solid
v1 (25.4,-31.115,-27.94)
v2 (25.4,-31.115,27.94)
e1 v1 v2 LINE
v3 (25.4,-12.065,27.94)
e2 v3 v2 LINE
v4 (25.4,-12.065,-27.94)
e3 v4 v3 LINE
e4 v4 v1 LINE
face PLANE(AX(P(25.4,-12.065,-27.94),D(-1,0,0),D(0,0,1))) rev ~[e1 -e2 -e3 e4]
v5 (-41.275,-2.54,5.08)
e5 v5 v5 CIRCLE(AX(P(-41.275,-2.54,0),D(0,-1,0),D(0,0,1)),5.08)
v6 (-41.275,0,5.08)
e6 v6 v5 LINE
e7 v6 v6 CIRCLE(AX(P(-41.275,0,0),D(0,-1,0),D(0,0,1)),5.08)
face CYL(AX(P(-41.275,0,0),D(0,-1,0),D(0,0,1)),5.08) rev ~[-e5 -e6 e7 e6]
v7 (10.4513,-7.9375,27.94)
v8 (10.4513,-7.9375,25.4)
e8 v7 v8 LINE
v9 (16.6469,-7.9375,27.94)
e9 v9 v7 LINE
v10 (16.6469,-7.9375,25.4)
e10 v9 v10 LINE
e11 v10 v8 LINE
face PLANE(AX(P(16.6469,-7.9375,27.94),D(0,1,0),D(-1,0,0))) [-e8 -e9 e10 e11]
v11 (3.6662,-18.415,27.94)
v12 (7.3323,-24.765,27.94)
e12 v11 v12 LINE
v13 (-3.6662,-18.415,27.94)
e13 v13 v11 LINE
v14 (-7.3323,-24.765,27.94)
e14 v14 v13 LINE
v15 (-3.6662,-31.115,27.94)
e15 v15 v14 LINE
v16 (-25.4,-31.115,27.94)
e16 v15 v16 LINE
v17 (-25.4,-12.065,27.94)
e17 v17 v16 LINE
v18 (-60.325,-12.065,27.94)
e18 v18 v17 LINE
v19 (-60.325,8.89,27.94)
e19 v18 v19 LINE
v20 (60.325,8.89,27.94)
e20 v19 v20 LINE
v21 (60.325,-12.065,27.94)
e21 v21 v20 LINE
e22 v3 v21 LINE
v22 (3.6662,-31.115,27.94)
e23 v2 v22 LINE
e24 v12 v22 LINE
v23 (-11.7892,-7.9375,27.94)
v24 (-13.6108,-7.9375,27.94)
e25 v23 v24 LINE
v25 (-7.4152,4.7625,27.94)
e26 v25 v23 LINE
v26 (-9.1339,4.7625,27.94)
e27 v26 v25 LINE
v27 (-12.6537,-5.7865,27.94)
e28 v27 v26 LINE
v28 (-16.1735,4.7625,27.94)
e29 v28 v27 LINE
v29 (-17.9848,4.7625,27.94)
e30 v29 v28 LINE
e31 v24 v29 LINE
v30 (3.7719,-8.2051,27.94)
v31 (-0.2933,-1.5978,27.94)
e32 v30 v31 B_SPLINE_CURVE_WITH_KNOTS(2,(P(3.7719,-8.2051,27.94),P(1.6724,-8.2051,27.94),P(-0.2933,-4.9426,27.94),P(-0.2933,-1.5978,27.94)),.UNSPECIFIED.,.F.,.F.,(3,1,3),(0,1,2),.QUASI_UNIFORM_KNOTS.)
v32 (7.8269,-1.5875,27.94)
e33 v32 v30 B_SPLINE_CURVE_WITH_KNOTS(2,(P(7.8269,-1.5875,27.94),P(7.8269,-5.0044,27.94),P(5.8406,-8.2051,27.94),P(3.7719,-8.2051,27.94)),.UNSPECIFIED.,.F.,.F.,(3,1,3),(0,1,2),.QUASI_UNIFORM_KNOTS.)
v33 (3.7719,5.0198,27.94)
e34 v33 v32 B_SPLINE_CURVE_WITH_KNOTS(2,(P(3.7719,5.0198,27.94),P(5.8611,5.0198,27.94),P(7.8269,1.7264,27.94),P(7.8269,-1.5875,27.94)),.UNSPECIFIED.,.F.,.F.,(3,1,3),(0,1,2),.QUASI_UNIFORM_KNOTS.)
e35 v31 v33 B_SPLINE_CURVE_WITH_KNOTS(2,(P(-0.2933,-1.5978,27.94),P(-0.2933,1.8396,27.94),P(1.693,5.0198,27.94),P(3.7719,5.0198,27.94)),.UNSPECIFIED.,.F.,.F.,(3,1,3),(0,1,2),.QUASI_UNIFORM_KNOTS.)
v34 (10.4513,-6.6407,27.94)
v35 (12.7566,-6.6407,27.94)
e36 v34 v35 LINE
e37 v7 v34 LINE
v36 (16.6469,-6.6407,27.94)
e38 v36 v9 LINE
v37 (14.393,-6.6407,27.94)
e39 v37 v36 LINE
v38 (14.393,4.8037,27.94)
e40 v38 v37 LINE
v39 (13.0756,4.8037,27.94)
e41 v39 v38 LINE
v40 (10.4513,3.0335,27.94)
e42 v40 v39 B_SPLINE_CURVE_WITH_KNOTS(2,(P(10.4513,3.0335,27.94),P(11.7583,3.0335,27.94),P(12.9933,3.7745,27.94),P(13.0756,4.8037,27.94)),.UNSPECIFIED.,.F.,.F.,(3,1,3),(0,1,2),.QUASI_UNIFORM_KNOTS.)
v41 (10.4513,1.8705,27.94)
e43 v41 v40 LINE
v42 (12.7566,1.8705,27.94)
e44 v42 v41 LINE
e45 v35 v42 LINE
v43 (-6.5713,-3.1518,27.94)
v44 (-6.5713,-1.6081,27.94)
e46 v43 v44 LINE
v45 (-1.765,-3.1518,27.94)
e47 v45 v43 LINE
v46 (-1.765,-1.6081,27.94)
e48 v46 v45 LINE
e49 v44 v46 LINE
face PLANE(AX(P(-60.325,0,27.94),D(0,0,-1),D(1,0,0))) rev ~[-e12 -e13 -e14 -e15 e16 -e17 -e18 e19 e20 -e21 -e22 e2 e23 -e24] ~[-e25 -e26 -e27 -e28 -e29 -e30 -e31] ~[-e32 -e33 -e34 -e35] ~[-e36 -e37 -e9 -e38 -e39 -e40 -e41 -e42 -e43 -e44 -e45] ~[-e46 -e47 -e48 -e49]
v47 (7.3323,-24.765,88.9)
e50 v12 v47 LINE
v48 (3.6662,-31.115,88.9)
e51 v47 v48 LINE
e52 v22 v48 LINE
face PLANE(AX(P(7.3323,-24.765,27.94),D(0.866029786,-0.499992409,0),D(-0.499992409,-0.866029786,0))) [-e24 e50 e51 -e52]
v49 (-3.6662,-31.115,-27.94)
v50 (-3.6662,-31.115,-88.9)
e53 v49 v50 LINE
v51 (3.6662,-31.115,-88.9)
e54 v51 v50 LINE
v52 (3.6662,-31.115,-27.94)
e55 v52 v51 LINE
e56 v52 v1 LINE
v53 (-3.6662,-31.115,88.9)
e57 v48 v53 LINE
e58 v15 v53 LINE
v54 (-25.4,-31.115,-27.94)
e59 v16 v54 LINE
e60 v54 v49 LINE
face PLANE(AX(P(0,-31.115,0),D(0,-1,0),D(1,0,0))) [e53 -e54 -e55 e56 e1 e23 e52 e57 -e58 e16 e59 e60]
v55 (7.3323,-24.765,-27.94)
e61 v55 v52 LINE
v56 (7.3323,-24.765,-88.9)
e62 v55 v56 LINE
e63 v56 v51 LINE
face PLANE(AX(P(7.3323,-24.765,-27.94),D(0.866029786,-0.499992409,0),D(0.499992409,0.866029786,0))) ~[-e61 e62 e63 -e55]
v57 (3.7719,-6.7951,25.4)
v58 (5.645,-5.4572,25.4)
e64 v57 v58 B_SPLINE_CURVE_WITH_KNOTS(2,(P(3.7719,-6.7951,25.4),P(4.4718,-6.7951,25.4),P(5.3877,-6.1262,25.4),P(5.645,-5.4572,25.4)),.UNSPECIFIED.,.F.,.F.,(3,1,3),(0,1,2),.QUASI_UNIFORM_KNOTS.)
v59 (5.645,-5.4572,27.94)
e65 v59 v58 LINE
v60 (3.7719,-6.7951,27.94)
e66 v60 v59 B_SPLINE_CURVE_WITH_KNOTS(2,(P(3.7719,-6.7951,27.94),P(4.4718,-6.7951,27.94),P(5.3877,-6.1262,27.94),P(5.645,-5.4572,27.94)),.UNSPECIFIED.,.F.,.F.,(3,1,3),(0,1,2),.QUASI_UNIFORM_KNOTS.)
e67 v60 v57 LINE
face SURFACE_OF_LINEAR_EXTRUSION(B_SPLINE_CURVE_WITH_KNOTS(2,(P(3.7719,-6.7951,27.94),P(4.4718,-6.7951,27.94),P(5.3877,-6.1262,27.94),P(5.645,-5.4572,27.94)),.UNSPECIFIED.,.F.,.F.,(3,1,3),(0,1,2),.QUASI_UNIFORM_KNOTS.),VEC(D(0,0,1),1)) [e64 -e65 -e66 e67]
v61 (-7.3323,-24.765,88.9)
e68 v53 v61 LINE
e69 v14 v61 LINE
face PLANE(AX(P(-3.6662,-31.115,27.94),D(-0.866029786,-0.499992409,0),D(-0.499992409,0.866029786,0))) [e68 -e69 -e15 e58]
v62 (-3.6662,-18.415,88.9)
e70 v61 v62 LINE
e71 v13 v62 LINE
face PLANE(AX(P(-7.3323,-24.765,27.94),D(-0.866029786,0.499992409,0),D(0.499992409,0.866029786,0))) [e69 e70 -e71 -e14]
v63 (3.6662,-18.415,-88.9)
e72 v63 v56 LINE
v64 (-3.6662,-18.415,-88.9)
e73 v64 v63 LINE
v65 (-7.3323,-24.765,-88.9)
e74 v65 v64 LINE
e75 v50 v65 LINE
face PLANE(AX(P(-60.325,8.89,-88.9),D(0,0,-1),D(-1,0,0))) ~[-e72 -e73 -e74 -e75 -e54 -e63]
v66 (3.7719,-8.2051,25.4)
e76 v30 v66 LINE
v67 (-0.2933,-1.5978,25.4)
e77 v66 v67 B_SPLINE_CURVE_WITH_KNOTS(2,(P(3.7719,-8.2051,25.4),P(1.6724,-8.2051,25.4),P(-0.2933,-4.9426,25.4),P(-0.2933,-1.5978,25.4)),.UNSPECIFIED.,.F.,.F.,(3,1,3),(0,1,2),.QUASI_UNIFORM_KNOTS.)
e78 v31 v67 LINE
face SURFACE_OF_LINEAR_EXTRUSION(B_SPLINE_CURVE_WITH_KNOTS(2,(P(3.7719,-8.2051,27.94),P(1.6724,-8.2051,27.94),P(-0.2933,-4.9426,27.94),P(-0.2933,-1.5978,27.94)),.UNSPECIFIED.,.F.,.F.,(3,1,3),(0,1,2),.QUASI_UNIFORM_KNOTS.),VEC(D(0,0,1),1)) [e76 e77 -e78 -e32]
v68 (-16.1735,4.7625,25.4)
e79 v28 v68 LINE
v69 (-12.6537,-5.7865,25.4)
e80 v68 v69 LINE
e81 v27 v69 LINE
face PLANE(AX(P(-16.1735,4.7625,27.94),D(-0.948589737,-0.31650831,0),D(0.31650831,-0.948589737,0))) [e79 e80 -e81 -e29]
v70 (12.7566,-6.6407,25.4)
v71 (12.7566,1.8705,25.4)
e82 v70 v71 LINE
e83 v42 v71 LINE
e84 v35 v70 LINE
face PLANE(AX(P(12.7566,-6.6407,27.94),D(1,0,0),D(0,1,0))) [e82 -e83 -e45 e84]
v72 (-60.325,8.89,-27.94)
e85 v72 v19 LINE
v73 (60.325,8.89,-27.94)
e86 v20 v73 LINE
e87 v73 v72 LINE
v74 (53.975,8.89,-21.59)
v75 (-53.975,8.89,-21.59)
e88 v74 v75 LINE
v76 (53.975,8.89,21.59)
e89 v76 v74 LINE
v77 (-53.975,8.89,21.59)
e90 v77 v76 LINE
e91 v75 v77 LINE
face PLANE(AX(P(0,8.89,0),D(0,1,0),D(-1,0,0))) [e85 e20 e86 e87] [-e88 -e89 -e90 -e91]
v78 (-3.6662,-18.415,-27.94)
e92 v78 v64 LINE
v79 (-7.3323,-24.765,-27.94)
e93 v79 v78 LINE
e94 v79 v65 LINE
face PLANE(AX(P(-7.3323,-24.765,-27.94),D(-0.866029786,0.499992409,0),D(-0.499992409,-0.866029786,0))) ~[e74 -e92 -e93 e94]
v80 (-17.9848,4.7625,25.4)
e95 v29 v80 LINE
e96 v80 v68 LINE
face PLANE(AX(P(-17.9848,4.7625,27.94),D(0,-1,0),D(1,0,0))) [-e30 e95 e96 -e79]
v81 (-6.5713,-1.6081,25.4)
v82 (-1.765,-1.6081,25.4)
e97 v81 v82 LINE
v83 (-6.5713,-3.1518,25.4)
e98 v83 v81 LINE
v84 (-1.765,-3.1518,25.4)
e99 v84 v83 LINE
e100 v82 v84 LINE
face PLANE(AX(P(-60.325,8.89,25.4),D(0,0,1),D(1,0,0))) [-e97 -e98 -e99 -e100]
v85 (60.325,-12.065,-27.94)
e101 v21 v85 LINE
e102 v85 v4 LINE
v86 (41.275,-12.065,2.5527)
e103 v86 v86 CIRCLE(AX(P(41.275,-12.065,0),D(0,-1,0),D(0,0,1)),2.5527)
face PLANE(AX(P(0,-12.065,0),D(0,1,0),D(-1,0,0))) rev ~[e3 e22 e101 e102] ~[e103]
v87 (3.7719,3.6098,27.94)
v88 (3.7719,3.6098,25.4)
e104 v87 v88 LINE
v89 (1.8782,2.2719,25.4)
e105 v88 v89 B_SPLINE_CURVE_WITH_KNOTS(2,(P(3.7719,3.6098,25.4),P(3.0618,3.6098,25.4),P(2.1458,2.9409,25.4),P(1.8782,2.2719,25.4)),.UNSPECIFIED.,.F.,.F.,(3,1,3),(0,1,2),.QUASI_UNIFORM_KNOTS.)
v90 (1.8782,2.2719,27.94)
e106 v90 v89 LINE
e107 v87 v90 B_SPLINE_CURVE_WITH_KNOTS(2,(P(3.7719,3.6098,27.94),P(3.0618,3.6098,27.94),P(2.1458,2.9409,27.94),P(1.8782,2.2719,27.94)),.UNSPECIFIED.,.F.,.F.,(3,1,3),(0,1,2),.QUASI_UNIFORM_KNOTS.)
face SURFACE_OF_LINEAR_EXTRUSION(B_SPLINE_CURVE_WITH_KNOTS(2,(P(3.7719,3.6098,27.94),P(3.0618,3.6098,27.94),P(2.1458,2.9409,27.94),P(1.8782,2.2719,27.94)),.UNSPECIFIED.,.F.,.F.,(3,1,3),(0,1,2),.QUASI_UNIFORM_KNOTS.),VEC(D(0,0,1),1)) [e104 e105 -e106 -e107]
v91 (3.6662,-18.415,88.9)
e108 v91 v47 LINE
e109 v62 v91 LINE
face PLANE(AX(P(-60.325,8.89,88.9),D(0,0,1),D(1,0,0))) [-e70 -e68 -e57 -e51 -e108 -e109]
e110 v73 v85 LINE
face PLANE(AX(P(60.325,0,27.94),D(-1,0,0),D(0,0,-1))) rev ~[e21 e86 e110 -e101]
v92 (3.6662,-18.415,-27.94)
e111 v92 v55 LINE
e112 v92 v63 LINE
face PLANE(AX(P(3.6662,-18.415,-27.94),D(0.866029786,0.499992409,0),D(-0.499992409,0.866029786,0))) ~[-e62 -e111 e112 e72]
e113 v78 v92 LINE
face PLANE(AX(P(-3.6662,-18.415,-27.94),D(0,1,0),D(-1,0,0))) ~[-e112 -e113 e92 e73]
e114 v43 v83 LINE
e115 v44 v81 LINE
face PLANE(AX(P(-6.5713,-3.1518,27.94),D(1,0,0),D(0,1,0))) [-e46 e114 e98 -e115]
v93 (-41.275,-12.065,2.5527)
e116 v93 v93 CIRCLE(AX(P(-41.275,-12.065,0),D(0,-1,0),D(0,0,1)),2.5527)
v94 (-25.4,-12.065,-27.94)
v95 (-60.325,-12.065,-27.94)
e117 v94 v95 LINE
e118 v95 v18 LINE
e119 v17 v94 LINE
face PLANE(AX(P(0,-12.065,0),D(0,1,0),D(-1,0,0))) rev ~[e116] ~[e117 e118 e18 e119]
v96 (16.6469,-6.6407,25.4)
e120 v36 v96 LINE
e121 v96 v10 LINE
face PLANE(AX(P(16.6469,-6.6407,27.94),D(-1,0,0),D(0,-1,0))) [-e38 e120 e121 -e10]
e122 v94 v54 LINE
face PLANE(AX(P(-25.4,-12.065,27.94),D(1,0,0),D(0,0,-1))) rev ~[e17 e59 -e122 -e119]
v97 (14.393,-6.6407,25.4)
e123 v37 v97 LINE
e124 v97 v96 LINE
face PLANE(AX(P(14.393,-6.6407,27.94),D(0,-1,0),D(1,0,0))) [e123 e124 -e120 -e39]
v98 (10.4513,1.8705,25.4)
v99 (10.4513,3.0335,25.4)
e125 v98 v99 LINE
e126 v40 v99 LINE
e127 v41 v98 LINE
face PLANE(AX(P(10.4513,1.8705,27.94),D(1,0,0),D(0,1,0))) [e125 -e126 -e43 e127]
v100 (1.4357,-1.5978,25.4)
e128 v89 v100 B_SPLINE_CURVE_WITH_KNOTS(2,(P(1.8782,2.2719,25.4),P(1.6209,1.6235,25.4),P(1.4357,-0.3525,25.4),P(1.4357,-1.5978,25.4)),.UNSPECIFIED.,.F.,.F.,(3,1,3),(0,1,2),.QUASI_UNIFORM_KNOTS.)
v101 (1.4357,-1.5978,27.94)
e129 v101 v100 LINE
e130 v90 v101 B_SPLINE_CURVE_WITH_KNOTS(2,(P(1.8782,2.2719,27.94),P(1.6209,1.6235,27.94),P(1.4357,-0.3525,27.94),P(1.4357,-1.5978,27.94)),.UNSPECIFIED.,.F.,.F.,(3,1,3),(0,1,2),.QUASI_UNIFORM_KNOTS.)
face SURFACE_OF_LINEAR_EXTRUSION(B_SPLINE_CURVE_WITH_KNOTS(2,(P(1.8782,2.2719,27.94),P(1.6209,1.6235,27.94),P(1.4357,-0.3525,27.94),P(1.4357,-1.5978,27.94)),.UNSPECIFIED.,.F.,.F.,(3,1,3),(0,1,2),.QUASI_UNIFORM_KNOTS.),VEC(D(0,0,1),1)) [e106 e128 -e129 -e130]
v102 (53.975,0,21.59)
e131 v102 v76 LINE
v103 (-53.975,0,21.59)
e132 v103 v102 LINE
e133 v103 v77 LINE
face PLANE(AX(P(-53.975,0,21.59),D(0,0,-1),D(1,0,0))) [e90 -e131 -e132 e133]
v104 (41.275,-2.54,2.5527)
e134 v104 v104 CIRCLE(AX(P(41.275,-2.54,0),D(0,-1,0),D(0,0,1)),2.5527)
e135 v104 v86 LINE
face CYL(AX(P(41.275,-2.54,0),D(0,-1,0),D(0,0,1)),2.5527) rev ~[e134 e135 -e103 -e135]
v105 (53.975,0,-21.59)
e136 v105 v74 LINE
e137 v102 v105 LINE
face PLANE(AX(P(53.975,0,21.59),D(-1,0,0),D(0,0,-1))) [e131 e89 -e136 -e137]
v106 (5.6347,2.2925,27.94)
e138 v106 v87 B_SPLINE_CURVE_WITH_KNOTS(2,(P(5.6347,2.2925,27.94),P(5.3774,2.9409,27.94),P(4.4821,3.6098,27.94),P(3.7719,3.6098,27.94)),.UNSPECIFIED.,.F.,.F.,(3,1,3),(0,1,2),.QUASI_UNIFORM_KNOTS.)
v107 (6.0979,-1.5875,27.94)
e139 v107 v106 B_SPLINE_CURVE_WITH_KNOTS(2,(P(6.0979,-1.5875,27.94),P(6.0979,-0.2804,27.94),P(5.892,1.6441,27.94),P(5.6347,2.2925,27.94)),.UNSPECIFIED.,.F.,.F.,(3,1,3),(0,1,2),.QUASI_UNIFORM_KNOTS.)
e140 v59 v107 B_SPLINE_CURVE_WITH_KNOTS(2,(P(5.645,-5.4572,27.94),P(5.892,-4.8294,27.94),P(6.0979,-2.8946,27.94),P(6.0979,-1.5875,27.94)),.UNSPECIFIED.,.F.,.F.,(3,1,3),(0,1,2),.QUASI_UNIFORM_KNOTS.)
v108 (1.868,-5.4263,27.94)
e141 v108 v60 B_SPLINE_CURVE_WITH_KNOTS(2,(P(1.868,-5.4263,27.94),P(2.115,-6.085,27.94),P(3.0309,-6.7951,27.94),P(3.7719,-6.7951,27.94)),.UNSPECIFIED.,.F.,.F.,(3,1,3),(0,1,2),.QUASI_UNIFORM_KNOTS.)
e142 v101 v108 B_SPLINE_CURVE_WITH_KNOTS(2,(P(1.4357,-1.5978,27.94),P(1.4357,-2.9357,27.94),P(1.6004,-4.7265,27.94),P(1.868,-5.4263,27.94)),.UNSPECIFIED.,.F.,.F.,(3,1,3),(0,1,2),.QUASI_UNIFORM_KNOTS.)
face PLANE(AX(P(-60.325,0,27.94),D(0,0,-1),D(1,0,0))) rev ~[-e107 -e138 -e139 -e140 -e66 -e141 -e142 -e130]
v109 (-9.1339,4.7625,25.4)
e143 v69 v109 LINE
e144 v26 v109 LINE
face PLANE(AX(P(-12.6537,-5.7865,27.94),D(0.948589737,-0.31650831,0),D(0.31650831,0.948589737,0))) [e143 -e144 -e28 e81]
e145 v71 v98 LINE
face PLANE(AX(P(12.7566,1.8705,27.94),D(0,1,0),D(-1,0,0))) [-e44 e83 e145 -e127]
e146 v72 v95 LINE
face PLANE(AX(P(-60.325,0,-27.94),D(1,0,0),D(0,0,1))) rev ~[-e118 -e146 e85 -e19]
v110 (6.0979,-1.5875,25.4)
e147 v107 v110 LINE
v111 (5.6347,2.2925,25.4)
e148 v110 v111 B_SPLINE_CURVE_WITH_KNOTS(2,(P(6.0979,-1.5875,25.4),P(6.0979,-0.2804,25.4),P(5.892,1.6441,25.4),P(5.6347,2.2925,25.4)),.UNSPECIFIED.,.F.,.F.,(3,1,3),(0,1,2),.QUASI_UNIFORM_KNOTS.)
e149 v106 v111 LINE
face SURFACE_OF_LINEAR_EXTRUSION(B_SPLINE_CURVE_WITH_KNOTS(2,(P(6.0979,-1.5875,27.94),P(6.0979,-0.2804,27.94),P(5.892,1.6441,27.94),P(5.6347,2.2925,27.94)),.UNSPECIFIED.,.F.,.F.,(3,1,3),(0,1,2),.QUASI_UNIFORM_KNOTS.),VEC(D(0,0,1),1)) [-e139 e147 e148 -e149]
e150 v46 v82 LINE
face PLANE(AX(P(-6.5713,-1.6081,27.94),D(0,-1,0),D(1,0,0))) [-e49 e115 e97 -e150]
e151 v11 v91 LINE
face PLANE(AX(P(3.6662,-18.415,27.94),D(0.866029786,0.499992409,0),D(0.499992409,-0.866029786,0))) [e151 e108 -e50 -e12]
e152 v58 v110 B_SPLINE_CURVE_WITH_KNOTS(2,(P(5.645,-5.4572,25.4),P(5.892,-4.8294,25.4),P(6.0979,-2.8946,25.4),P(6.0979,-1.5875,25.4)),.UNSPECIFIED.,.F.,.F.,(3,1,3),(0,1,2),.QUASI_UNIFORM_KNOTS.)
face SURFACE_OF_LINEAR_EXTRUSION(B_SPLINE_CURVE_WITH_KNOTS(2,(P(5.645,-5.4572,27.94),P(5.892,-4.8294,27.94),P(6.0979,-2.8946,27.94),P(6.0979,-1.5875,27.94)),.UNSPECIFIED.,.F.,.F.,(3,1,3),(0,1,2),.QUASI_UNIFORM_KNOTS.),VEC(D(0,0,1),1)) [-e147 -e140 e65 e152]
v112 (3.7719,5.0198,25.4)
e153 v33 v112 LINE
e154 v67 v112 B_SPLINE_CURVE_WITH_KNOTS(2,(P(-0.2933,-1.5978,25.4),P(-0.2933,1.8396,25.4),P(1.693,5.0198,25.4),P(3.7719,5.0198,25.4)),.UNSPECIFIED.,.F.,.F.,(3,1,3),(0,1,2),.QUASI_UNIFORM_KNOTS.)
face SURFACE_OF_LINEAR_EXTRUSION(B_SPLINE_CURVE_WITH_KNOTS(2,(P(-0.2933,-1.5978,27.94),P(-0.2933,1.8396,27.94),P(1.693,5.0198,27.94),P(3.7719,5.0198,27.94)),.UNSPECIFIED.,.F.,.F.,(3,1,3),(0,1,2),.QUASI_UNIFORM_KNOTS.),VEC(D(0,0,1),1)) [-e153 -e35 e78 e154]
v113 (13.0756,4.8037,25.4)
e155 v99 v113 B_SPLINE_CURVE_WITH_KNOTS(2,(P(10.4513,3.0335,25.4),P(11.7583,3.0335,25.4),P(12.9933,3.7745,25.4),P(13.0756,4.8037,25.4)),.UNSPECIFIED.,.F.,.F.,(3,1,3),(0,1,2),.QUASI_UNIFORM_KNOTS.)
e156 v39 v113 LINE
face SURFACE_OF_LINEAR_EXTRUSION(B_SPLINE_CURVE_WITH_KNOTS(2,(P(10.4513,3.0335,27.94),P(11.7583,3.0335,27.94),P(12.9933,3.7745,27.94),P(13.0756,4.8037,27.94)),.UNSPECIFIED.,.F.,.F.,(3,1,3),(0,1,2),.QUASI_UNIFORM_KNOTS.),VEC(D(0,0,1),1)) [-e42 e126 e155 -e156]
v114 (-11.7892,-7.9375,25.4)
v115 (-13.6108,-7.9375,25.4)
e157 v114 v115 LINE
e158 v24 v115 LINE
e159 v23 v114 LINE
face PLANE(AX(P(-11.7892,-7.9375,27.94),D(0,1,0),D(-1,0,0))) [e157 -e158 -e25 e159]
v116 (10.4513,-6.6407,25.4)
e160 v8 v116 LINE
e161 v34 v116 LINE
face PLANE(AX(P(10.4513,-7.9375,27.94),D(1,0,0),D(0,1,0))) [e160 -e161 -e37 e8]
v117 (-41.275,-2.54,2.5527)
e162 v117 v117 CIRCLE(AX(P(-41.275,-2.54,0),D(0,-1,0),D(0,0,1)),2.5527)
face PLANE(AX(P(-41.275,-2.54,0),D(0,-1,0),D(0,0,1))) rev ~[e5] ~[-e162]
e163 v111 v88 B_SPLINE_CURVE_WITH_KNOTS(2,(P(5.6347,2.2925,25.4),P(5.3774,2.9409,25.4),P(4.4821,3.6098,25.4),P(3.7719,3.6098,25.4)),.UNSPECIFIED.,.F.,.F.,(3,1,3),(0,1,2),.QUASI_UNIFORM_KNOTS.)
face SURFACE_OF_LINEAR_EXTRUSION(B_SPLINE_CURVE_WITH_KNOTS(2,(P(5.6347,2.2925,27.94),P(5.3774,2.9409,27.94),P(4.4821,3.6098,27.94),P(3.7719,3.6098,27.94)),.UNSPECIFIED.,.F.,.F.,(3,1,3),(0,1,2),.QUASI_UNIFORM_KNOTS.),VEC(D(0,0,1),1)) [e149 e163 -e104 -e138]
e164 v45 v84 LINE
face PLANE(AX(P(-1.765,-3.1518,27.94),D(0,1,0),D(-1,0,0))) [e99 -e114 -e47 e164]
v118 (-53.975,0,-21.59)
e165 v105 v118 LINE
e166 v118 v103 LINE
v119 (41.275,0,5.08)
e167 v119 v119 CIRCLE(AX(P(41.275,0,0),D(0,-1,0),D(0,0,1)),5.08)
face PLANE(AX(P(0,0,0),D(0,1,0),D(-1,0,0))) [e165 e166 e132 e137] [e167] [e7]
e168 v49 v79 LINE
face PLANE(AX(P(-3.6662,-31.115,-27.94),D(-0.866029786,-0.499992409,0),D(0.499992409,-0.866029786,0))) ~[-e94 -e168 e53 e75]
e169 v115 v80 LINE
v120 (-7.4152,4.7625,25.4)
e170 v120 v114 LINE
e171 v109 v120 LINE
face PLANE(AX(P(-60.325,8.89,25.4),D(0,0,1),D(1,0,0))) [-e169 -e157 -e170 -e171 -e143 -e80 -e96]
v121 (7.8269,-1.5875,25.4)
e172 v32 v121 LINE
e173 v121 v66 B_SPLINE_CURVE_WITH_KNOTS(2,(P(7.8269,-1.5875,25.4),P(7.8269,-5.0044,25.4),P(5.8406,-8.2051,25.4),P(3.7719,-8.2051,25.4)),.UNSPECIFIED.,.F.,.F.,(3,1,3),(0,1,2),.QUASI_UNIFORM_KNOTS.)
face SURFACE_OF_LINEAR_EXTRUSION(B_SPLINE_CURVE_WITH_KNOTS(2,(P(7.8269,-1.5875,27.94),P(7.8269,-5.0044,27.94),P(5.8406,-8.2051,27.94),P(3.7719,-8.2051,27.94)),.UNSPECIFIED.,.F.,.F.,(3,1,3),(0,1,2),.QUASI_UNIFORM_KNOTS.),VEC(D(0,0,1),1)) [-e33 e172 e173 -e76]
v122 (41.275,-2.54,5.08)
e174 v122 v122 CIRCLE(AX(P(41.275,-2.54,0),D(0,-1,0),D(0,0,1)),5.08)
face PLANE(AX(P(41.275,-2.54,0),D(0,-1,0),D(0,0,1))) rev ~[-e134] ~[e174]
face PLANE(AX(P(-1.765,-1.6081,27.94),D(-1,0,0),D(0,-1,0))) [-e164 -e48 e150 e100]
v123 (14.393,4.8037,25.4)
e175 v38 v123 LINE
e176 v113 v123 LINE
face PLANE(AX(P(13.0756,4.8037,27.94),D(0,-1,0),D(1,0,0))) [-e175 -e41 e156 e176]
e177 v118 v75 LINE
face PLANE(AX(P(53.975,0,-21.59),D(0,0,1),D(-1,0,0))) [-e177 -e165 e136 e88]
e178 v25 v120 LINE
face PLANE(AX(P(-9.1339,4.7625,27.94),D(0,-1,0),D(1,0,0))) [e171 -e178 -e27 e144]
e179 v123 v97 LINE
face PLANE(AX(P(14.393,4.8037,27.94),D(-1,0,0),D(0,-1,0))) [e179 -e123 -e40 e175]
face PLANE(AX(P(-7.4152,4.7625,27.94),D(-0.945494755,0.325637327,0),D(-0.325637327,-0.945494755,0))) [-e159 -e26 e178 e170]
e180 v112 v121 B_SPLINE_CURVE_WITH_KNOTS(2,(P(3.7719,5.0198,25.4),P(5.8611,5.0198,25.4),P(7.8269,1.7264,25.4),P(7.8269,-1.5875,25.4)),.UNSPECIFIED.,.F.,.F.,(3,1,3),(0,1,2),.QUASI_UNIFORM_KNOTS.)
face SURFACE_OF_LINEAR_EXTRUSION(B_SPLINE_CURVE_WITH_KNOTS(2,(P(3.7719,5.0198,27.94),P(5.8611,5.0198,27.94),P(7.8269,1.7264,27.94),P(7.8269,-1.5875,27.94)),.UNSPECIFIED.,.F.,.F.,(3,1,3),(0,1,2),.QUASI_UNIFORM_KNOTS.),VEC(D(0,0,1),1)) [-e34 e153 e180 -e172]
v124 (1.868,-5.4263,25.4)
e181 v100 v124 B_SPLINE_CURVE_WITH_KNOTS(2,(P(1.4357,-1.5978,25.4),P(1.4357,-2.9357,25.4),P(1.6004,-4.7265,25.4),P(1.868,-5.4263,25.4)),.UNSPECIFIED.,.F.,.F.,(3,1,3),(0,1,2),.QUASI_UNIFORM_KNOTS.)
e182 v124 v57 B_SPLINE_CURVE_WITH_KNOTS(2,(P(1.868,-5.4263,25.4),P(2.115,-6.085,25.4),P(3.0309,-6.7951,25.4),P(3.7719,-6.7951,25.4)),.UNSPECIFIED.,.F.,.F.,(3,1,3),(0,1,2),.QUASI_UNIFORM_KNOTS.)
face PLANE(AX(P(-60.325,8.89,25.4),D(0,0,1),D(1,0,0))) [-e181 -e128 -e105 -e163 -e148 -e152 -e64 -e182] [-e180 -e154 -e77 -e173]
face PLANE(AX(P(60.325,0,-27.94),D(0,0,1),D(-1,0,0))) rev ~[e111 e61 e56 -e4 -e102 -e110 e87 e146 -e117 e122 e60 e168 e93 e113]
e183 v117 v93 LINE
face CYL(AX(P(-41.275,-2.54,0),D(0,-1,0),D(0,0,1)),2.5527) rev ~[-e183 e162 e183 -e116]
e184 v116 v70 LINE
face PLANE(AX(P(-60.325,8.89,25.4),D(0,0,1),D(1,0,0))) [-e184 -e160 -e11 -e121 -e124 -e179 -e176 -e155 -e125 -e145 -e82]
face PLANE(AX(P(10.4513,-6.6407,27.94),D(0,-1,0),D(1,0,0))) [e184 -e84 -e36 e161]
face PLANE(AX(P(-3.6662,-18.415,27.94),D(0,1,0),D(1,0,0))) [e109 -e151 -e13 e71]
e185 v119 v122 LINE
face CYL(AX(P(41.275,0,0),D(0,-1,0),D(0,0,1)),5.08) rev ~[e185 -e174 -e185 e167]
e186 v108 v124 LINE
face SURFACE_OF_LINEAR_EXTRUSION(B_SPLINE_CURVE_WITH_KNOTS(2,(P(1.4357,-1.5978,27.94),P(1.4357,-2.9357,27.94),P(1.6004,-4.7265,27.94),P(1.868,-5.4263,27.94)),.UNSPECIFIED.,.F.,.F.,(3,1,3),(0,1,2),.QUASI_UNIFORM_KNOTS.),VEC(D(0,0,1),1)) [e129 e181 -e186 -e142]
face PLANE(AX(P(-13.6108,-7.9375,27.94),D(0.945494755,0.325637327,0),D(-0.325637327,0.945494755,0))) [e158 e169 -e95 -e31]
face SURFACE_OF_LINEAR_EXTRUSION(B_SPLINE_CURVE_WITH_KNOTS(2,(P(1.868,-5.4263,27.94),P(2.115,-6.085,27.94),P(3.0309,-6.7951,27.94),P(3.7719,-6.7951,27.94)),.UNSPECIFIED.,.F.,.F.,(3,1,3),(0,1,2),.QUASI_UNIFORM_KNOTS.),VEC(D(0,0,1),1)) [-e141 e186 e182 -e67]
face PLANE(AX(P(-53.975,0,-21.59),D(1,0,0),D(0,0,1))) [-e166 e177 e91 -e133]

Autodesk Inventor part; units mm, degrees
ref_plane "YZ Plane" through (0, 0, 0) normal (1, 0, 0) x (0, 1, 0)
ref_plane "XZ Plane" through (0, 0, 0) normal (0, 1, 0) x (-1, 0, 0)
ref_plane "XY Plane" through (0, 0, 0) normal (0, 0, 1) x (1, 0, 0)
sketch "Sketch1" plane through (0, 0, 0) normal (0, 1, 0) x (-1, 0, 0)
  line L0 (53.975, 21.59) -> (-53.975, 21.59)
  line L1 (-53.975, 21.59) -> (-53.975, -21.59)
  line L2 (-53.975, -21.59) -> (53.975, -21.59)
  line L3 (53.975, -21.59) -> (53.975, 21.59)
  line L4 (53.975, 21.59) -> (-53.975, -21.59) construction
  line L5 (-53.975, 21.59) -> (53.975, -21.59) construction
  line L6 (60.325, 27.94) -> (-60.325, 27.94)
  line L7 (-60.325, 27.94) -> (-60.325, -27.94)
  line L8 (-60.325, -27.94) -> (60.325, -27.94)
  line L9 (60.325, -27.94) -> (60.325, 27.94)
  line L10 (60.325, 27.94) -> (-60.325, -27.94) construction
  line L11 (-60.325, 27.94) -> (60.325, -27.94) construction
  point P0 (0, 0)
  dimension "d0" = 43.18
  dimension "d1" = 107.95
  dimension "d2" = 6.35
  dimension "d3" = 6.35
extrude "Extrusion1" add sketch "Sketch1" against normal blind 12.065 contours L3 L2 L1 L0 | L9 L8 L7 L6
extrude "Extrusion2" add sketch "Sketch1" along normal blind 8.89
sketch "Sketch2" plane through (0, 0, 0) normal (0, 1, 0) x (1, 0, 0)
  line L0 (-53.975, 21.59) -> (-53.975, -21.59) construction
  line L1 (-53.975, 0) -> (53.975, 0) construction
  line L2 (53.975, -21.59) -> (53.975, 21.59) construction
  point P0 (0, 0)
  point P1 (-41.275, 0)
  point P2 (41.275, 0)
  dimension "d8" = 12.7
  dimension "d9" = 12.7
hole "Hole1" at (-41.275, 0, 0) at (41.275, 0, 0) direction (0, -1, 0) diameter 5.1054 end through all counterbore diameter 10.16 counterbore depth 2.54 clearance for "Hex Machine Screw" size "#10" standard "Ansi Unified Screw Threads"
sketch "Sketch5" plane through (0, -12.065, 0) normal (0, -1, 0) x (1, 0, 0)
  line L0 (-25.4, -27.94) -> (25.4, -27.94)
  line L1 (25.4, -27.94) -> (25.4, 27.94)
  line L2 (25.4, 27.94) -> (-25.4, 27.94)
  line L3 (-25.4, 27.94) -> (-25.4, -27.94)
  line L4 (-25.4, -27.94) -> (25.4, 27.94) construction
  line L5 (25.4, -27.94) -> (-25.4, 27.94) construction
  point P0 (0, 0)
  dimension "d27" = 50.8
  dimension "d28" = 55.88
extrude "Extrusion6" add sketch "Sketch5" along normal blind 19.05
sketch "Sketch11" plane through (-60.325, 8.89, 27.94) normal (0, 0, 1) x (1, 0, 0)
  line L0 (0, -20.955) -> (0, 0) construction
  line L1 (0, -10.4775) -> (120.65, -10.4775) construction
  line L2 (120.65, 0) -> (120.65, -20.955) construction
  line L3 (52.9098, -4.1275) -> (48.5358, -16.8275)
  line L4 (48.5358, -16.8275) -> (46.7142, -16.8275)
  line L5 (46.7142, -16.8275) -> (42.3402, -4.1275)
  line L6 (42.3402, -4.1275) -> (44.1515, -4.1275)
  line L7 (44.1515, -4.1275) -> (47.6713, -14.6765)
  line L8 (47.6713, -14.6765) -> (51.1911, -4.1275)
  line L9 (51.1911, -4.1275) -> (52.9098, -4.1275)
  line L10 (58.56, -12.0418) -> (53.7537, -12.0418)
  line L11 (53.7537, -12.0418) -> (53.7537, -10.4981)
  line L12 (53.7537, -10.4981) -> (58.56, -10.4981)
  line L13 (58.56, -10.4981) -> (58.56, -12.0418)
  spline S0 degree 2 poles (68.1519, -10.4775) (68.1519, -13.8944) (66.1656, -17.0951) (64.0969, -17.0951) knots 0 0 0 1 2 2 2
  spline S1 degree 2 poles (64.0969, -17.0951) (61.9974, -17.0951) (60.0317, -13.8326) (60.0317, -10.4878) knots 0 0 0 1 2 2 2
  spline S2 degree 2 poles (60.0317, -10.4878) (60.0317, -7.0504) (62.018, -3.8702) (64.0969, -3.8702) knots 0 0 0 1 2 2 2
  spline S3 degree 2 poles (64.0969, -3.8702) (66.1861, -3.8702) (68.1519, -7.1636) (68.1519, -10.4775) knots 0 0 0 1 2 2 2
  spline S4 degree 2 poles (65.97, -14.3472) (66.217, -13.7194) (66.4229, -11.7846) (66.4229, -10.4775) knots 0 0 0 1 2 2 2
  spline S5 degree 2 poles (66.4229, -10.4775) (66.4229, -9.1704) (66.217, -7.2459) (65.9597, -6.5975) knots 0 0 0 1 2 2 2
  spline S6 degree 2 poles (65.9597, -6.5975) (65.7024, -5.9491) (64.8071, -5.2802) (64.0969, -5.2802) knots 0 0 0 1 2 2 2
  spline S7 degree 2 poles (64.0969, -5.2802) (63.3868, -5.2802) (62.4708, -5.9491) (62.2032, -6.6181) knots 0 0 0 1 2 2 2
  spline S8 degree 2 poles (62.2032, -6.6181) (61.9459, -7.2665) (61.7607, -9.2425) (61.7607, -10.4878) knots 0 0 0 1 2 2 2
  spline S9 degree 2 poles (61.7607, -10.4878) (61.7607, -11.8257) (61.9254, -13.6165) (62.193, -14.3163) knots 0 0 0 1 2 2 2
  spline S10 degree 2 poles (62.193, -14.3163) (62.44, -14.975) (63.3559, -15.6851) (64.0969, -15.6851) knots 0 0 0 1 2 2 2
  spline S11 degree 2 poles (64.0969, -15.6851) (64.7968, -15.6851) (65.7127, -15.0162) (65.97, -14.3472) knots 0 0 0 1 2 2 2
  line L14 (76.9719, -16.8275) -> (70.7763, -16.8275)
  line L15 (70.7763, -16.8275) -> (70.7763, -15.5307)
  line L16 (70.7763, -15.5307) -> (73.0816, -15.5307)
  line L17 (73.0816, -15.5307) -> (73.0816, -7.0195)
  line L18 (73.0816, -7.0195) -> (70.7763, -7.0195)
  line L19 (70.7763, -7.0195) -> (70.7763, -5.8565)
  spline S12 degree 2 poles (70.7763, -5.8565) (72.0833, -5.8565) (73.3183, -5.1155) (73.4006, -4.0863) knots 0 0 0 1 2 2 2
  line L20 (73.4006, -4.0863) -> (74.718, -4.0863)
  line L21 (74.718, -4.0863) -> (74.718, -15.5307)
  line L22 (74.718, -15.5307) -> (76.9719, -15.5307)
  line L23 (76.9719, -15.5307) -> (76.9719, -16.8275)
  point P0 (60.325, -8.89)
extrude "Extrusion8" cut sketch "Sketch11" against normal blind 2.54
sketch "Sketch12" plane through (-60.325, 8.89, 27.94) normal (0, 0, 1) x (1, 0, 0)
  line L0 (85.725, -40.005) -> (34.925, -40.005) construction
  line L1 (60.325, -40.005) -> (60.325, -0.5585) construction
  line L2 (63.9912, -40.005) -> (56.6588, -40.005)
  line L3 (56.6588, -40.005) -> (52.9927, -33.655)
  line L4 (52.9927, -33.655) -> (56.6588, -27.305)
  line L5 (56.6588, -27.305) -> (63.9912, -27.305)
  line L6 (63.9912, -27.305) -> (67.6573, -33.655)
  line L7 (67.6573, -33.655) -> (63.9912, -40.005)
  point P0 (60.325, -8.89)
  point P1 (60.325, -33.655)
  dimension "d86" = 12.7
extrude "Extrusion9" add sketch "Sketch12" along normal blind 60.96
mirror "Mirror5" about plane through (0, 0, 0) normal (0, 0, 1) of "Extrusion9"
equation "\"d0\" = innerWidth"
equation "\"d1\" = innerLength"
equation "\"d2\" = wallThickness"
equation "\"d3\" = wallThickness"
equation "\"d4\" = bottomThickness"
equation "\"d6\" = innerDepth"
equation "\"d8\" = holeCenterFromInnerWall"
equation "\"d9\" = holeCenterFromInnerWall"
equation "\"d27\" = lowerPostLength"
equation "\"d28\" = lowerPostWidth"
equation "\"d29\" = lowerPostHeight"
equation "\"d86\" = hexSize"
equation "\"innerWidth\" = 43.18"
equation "\"innerLength\" = 107.95"
equation "\"innerDepth\" = 8.89"
equation "\"wallThickness\" = 6.35"
equation "\"postDiameter\" = 9.525"
equation "\"holeCenterFromInnerWall\" = 12.7"
equation "\"bottomThickness\" = 12.065"
equation "\"d17\" = postDiameter"
equation "\"exteriorWidth\" = innerWidth + 2 * wallThickness"
equation "\"exteriorLength\" = innerLength + 2 * wallThickness"
equation "\"exteriorHeight\" = innerDepth + bottomThickness"
equation "\"d24\" = postDiameter"
equation "\"lowerPostWidth\" = exteriorWidth"
equation "\"lowerPostLength\" = 50.8"
equation "\"lowerPostCenterX\" = 0.5 * exteriorLength"
equation "\"lowerPostHeight\" = 19.05"
equation "\"lowerPostCenterY\" = postDiameter"
equation "\"setScrewCenters\" = 0.333333 * exteriorWidth"
equation "\"hexSize\" = 12.7"
properties part number "connectorToTubeBracketWithOffsetHexShaft-V01" material "PBT Plastic"
